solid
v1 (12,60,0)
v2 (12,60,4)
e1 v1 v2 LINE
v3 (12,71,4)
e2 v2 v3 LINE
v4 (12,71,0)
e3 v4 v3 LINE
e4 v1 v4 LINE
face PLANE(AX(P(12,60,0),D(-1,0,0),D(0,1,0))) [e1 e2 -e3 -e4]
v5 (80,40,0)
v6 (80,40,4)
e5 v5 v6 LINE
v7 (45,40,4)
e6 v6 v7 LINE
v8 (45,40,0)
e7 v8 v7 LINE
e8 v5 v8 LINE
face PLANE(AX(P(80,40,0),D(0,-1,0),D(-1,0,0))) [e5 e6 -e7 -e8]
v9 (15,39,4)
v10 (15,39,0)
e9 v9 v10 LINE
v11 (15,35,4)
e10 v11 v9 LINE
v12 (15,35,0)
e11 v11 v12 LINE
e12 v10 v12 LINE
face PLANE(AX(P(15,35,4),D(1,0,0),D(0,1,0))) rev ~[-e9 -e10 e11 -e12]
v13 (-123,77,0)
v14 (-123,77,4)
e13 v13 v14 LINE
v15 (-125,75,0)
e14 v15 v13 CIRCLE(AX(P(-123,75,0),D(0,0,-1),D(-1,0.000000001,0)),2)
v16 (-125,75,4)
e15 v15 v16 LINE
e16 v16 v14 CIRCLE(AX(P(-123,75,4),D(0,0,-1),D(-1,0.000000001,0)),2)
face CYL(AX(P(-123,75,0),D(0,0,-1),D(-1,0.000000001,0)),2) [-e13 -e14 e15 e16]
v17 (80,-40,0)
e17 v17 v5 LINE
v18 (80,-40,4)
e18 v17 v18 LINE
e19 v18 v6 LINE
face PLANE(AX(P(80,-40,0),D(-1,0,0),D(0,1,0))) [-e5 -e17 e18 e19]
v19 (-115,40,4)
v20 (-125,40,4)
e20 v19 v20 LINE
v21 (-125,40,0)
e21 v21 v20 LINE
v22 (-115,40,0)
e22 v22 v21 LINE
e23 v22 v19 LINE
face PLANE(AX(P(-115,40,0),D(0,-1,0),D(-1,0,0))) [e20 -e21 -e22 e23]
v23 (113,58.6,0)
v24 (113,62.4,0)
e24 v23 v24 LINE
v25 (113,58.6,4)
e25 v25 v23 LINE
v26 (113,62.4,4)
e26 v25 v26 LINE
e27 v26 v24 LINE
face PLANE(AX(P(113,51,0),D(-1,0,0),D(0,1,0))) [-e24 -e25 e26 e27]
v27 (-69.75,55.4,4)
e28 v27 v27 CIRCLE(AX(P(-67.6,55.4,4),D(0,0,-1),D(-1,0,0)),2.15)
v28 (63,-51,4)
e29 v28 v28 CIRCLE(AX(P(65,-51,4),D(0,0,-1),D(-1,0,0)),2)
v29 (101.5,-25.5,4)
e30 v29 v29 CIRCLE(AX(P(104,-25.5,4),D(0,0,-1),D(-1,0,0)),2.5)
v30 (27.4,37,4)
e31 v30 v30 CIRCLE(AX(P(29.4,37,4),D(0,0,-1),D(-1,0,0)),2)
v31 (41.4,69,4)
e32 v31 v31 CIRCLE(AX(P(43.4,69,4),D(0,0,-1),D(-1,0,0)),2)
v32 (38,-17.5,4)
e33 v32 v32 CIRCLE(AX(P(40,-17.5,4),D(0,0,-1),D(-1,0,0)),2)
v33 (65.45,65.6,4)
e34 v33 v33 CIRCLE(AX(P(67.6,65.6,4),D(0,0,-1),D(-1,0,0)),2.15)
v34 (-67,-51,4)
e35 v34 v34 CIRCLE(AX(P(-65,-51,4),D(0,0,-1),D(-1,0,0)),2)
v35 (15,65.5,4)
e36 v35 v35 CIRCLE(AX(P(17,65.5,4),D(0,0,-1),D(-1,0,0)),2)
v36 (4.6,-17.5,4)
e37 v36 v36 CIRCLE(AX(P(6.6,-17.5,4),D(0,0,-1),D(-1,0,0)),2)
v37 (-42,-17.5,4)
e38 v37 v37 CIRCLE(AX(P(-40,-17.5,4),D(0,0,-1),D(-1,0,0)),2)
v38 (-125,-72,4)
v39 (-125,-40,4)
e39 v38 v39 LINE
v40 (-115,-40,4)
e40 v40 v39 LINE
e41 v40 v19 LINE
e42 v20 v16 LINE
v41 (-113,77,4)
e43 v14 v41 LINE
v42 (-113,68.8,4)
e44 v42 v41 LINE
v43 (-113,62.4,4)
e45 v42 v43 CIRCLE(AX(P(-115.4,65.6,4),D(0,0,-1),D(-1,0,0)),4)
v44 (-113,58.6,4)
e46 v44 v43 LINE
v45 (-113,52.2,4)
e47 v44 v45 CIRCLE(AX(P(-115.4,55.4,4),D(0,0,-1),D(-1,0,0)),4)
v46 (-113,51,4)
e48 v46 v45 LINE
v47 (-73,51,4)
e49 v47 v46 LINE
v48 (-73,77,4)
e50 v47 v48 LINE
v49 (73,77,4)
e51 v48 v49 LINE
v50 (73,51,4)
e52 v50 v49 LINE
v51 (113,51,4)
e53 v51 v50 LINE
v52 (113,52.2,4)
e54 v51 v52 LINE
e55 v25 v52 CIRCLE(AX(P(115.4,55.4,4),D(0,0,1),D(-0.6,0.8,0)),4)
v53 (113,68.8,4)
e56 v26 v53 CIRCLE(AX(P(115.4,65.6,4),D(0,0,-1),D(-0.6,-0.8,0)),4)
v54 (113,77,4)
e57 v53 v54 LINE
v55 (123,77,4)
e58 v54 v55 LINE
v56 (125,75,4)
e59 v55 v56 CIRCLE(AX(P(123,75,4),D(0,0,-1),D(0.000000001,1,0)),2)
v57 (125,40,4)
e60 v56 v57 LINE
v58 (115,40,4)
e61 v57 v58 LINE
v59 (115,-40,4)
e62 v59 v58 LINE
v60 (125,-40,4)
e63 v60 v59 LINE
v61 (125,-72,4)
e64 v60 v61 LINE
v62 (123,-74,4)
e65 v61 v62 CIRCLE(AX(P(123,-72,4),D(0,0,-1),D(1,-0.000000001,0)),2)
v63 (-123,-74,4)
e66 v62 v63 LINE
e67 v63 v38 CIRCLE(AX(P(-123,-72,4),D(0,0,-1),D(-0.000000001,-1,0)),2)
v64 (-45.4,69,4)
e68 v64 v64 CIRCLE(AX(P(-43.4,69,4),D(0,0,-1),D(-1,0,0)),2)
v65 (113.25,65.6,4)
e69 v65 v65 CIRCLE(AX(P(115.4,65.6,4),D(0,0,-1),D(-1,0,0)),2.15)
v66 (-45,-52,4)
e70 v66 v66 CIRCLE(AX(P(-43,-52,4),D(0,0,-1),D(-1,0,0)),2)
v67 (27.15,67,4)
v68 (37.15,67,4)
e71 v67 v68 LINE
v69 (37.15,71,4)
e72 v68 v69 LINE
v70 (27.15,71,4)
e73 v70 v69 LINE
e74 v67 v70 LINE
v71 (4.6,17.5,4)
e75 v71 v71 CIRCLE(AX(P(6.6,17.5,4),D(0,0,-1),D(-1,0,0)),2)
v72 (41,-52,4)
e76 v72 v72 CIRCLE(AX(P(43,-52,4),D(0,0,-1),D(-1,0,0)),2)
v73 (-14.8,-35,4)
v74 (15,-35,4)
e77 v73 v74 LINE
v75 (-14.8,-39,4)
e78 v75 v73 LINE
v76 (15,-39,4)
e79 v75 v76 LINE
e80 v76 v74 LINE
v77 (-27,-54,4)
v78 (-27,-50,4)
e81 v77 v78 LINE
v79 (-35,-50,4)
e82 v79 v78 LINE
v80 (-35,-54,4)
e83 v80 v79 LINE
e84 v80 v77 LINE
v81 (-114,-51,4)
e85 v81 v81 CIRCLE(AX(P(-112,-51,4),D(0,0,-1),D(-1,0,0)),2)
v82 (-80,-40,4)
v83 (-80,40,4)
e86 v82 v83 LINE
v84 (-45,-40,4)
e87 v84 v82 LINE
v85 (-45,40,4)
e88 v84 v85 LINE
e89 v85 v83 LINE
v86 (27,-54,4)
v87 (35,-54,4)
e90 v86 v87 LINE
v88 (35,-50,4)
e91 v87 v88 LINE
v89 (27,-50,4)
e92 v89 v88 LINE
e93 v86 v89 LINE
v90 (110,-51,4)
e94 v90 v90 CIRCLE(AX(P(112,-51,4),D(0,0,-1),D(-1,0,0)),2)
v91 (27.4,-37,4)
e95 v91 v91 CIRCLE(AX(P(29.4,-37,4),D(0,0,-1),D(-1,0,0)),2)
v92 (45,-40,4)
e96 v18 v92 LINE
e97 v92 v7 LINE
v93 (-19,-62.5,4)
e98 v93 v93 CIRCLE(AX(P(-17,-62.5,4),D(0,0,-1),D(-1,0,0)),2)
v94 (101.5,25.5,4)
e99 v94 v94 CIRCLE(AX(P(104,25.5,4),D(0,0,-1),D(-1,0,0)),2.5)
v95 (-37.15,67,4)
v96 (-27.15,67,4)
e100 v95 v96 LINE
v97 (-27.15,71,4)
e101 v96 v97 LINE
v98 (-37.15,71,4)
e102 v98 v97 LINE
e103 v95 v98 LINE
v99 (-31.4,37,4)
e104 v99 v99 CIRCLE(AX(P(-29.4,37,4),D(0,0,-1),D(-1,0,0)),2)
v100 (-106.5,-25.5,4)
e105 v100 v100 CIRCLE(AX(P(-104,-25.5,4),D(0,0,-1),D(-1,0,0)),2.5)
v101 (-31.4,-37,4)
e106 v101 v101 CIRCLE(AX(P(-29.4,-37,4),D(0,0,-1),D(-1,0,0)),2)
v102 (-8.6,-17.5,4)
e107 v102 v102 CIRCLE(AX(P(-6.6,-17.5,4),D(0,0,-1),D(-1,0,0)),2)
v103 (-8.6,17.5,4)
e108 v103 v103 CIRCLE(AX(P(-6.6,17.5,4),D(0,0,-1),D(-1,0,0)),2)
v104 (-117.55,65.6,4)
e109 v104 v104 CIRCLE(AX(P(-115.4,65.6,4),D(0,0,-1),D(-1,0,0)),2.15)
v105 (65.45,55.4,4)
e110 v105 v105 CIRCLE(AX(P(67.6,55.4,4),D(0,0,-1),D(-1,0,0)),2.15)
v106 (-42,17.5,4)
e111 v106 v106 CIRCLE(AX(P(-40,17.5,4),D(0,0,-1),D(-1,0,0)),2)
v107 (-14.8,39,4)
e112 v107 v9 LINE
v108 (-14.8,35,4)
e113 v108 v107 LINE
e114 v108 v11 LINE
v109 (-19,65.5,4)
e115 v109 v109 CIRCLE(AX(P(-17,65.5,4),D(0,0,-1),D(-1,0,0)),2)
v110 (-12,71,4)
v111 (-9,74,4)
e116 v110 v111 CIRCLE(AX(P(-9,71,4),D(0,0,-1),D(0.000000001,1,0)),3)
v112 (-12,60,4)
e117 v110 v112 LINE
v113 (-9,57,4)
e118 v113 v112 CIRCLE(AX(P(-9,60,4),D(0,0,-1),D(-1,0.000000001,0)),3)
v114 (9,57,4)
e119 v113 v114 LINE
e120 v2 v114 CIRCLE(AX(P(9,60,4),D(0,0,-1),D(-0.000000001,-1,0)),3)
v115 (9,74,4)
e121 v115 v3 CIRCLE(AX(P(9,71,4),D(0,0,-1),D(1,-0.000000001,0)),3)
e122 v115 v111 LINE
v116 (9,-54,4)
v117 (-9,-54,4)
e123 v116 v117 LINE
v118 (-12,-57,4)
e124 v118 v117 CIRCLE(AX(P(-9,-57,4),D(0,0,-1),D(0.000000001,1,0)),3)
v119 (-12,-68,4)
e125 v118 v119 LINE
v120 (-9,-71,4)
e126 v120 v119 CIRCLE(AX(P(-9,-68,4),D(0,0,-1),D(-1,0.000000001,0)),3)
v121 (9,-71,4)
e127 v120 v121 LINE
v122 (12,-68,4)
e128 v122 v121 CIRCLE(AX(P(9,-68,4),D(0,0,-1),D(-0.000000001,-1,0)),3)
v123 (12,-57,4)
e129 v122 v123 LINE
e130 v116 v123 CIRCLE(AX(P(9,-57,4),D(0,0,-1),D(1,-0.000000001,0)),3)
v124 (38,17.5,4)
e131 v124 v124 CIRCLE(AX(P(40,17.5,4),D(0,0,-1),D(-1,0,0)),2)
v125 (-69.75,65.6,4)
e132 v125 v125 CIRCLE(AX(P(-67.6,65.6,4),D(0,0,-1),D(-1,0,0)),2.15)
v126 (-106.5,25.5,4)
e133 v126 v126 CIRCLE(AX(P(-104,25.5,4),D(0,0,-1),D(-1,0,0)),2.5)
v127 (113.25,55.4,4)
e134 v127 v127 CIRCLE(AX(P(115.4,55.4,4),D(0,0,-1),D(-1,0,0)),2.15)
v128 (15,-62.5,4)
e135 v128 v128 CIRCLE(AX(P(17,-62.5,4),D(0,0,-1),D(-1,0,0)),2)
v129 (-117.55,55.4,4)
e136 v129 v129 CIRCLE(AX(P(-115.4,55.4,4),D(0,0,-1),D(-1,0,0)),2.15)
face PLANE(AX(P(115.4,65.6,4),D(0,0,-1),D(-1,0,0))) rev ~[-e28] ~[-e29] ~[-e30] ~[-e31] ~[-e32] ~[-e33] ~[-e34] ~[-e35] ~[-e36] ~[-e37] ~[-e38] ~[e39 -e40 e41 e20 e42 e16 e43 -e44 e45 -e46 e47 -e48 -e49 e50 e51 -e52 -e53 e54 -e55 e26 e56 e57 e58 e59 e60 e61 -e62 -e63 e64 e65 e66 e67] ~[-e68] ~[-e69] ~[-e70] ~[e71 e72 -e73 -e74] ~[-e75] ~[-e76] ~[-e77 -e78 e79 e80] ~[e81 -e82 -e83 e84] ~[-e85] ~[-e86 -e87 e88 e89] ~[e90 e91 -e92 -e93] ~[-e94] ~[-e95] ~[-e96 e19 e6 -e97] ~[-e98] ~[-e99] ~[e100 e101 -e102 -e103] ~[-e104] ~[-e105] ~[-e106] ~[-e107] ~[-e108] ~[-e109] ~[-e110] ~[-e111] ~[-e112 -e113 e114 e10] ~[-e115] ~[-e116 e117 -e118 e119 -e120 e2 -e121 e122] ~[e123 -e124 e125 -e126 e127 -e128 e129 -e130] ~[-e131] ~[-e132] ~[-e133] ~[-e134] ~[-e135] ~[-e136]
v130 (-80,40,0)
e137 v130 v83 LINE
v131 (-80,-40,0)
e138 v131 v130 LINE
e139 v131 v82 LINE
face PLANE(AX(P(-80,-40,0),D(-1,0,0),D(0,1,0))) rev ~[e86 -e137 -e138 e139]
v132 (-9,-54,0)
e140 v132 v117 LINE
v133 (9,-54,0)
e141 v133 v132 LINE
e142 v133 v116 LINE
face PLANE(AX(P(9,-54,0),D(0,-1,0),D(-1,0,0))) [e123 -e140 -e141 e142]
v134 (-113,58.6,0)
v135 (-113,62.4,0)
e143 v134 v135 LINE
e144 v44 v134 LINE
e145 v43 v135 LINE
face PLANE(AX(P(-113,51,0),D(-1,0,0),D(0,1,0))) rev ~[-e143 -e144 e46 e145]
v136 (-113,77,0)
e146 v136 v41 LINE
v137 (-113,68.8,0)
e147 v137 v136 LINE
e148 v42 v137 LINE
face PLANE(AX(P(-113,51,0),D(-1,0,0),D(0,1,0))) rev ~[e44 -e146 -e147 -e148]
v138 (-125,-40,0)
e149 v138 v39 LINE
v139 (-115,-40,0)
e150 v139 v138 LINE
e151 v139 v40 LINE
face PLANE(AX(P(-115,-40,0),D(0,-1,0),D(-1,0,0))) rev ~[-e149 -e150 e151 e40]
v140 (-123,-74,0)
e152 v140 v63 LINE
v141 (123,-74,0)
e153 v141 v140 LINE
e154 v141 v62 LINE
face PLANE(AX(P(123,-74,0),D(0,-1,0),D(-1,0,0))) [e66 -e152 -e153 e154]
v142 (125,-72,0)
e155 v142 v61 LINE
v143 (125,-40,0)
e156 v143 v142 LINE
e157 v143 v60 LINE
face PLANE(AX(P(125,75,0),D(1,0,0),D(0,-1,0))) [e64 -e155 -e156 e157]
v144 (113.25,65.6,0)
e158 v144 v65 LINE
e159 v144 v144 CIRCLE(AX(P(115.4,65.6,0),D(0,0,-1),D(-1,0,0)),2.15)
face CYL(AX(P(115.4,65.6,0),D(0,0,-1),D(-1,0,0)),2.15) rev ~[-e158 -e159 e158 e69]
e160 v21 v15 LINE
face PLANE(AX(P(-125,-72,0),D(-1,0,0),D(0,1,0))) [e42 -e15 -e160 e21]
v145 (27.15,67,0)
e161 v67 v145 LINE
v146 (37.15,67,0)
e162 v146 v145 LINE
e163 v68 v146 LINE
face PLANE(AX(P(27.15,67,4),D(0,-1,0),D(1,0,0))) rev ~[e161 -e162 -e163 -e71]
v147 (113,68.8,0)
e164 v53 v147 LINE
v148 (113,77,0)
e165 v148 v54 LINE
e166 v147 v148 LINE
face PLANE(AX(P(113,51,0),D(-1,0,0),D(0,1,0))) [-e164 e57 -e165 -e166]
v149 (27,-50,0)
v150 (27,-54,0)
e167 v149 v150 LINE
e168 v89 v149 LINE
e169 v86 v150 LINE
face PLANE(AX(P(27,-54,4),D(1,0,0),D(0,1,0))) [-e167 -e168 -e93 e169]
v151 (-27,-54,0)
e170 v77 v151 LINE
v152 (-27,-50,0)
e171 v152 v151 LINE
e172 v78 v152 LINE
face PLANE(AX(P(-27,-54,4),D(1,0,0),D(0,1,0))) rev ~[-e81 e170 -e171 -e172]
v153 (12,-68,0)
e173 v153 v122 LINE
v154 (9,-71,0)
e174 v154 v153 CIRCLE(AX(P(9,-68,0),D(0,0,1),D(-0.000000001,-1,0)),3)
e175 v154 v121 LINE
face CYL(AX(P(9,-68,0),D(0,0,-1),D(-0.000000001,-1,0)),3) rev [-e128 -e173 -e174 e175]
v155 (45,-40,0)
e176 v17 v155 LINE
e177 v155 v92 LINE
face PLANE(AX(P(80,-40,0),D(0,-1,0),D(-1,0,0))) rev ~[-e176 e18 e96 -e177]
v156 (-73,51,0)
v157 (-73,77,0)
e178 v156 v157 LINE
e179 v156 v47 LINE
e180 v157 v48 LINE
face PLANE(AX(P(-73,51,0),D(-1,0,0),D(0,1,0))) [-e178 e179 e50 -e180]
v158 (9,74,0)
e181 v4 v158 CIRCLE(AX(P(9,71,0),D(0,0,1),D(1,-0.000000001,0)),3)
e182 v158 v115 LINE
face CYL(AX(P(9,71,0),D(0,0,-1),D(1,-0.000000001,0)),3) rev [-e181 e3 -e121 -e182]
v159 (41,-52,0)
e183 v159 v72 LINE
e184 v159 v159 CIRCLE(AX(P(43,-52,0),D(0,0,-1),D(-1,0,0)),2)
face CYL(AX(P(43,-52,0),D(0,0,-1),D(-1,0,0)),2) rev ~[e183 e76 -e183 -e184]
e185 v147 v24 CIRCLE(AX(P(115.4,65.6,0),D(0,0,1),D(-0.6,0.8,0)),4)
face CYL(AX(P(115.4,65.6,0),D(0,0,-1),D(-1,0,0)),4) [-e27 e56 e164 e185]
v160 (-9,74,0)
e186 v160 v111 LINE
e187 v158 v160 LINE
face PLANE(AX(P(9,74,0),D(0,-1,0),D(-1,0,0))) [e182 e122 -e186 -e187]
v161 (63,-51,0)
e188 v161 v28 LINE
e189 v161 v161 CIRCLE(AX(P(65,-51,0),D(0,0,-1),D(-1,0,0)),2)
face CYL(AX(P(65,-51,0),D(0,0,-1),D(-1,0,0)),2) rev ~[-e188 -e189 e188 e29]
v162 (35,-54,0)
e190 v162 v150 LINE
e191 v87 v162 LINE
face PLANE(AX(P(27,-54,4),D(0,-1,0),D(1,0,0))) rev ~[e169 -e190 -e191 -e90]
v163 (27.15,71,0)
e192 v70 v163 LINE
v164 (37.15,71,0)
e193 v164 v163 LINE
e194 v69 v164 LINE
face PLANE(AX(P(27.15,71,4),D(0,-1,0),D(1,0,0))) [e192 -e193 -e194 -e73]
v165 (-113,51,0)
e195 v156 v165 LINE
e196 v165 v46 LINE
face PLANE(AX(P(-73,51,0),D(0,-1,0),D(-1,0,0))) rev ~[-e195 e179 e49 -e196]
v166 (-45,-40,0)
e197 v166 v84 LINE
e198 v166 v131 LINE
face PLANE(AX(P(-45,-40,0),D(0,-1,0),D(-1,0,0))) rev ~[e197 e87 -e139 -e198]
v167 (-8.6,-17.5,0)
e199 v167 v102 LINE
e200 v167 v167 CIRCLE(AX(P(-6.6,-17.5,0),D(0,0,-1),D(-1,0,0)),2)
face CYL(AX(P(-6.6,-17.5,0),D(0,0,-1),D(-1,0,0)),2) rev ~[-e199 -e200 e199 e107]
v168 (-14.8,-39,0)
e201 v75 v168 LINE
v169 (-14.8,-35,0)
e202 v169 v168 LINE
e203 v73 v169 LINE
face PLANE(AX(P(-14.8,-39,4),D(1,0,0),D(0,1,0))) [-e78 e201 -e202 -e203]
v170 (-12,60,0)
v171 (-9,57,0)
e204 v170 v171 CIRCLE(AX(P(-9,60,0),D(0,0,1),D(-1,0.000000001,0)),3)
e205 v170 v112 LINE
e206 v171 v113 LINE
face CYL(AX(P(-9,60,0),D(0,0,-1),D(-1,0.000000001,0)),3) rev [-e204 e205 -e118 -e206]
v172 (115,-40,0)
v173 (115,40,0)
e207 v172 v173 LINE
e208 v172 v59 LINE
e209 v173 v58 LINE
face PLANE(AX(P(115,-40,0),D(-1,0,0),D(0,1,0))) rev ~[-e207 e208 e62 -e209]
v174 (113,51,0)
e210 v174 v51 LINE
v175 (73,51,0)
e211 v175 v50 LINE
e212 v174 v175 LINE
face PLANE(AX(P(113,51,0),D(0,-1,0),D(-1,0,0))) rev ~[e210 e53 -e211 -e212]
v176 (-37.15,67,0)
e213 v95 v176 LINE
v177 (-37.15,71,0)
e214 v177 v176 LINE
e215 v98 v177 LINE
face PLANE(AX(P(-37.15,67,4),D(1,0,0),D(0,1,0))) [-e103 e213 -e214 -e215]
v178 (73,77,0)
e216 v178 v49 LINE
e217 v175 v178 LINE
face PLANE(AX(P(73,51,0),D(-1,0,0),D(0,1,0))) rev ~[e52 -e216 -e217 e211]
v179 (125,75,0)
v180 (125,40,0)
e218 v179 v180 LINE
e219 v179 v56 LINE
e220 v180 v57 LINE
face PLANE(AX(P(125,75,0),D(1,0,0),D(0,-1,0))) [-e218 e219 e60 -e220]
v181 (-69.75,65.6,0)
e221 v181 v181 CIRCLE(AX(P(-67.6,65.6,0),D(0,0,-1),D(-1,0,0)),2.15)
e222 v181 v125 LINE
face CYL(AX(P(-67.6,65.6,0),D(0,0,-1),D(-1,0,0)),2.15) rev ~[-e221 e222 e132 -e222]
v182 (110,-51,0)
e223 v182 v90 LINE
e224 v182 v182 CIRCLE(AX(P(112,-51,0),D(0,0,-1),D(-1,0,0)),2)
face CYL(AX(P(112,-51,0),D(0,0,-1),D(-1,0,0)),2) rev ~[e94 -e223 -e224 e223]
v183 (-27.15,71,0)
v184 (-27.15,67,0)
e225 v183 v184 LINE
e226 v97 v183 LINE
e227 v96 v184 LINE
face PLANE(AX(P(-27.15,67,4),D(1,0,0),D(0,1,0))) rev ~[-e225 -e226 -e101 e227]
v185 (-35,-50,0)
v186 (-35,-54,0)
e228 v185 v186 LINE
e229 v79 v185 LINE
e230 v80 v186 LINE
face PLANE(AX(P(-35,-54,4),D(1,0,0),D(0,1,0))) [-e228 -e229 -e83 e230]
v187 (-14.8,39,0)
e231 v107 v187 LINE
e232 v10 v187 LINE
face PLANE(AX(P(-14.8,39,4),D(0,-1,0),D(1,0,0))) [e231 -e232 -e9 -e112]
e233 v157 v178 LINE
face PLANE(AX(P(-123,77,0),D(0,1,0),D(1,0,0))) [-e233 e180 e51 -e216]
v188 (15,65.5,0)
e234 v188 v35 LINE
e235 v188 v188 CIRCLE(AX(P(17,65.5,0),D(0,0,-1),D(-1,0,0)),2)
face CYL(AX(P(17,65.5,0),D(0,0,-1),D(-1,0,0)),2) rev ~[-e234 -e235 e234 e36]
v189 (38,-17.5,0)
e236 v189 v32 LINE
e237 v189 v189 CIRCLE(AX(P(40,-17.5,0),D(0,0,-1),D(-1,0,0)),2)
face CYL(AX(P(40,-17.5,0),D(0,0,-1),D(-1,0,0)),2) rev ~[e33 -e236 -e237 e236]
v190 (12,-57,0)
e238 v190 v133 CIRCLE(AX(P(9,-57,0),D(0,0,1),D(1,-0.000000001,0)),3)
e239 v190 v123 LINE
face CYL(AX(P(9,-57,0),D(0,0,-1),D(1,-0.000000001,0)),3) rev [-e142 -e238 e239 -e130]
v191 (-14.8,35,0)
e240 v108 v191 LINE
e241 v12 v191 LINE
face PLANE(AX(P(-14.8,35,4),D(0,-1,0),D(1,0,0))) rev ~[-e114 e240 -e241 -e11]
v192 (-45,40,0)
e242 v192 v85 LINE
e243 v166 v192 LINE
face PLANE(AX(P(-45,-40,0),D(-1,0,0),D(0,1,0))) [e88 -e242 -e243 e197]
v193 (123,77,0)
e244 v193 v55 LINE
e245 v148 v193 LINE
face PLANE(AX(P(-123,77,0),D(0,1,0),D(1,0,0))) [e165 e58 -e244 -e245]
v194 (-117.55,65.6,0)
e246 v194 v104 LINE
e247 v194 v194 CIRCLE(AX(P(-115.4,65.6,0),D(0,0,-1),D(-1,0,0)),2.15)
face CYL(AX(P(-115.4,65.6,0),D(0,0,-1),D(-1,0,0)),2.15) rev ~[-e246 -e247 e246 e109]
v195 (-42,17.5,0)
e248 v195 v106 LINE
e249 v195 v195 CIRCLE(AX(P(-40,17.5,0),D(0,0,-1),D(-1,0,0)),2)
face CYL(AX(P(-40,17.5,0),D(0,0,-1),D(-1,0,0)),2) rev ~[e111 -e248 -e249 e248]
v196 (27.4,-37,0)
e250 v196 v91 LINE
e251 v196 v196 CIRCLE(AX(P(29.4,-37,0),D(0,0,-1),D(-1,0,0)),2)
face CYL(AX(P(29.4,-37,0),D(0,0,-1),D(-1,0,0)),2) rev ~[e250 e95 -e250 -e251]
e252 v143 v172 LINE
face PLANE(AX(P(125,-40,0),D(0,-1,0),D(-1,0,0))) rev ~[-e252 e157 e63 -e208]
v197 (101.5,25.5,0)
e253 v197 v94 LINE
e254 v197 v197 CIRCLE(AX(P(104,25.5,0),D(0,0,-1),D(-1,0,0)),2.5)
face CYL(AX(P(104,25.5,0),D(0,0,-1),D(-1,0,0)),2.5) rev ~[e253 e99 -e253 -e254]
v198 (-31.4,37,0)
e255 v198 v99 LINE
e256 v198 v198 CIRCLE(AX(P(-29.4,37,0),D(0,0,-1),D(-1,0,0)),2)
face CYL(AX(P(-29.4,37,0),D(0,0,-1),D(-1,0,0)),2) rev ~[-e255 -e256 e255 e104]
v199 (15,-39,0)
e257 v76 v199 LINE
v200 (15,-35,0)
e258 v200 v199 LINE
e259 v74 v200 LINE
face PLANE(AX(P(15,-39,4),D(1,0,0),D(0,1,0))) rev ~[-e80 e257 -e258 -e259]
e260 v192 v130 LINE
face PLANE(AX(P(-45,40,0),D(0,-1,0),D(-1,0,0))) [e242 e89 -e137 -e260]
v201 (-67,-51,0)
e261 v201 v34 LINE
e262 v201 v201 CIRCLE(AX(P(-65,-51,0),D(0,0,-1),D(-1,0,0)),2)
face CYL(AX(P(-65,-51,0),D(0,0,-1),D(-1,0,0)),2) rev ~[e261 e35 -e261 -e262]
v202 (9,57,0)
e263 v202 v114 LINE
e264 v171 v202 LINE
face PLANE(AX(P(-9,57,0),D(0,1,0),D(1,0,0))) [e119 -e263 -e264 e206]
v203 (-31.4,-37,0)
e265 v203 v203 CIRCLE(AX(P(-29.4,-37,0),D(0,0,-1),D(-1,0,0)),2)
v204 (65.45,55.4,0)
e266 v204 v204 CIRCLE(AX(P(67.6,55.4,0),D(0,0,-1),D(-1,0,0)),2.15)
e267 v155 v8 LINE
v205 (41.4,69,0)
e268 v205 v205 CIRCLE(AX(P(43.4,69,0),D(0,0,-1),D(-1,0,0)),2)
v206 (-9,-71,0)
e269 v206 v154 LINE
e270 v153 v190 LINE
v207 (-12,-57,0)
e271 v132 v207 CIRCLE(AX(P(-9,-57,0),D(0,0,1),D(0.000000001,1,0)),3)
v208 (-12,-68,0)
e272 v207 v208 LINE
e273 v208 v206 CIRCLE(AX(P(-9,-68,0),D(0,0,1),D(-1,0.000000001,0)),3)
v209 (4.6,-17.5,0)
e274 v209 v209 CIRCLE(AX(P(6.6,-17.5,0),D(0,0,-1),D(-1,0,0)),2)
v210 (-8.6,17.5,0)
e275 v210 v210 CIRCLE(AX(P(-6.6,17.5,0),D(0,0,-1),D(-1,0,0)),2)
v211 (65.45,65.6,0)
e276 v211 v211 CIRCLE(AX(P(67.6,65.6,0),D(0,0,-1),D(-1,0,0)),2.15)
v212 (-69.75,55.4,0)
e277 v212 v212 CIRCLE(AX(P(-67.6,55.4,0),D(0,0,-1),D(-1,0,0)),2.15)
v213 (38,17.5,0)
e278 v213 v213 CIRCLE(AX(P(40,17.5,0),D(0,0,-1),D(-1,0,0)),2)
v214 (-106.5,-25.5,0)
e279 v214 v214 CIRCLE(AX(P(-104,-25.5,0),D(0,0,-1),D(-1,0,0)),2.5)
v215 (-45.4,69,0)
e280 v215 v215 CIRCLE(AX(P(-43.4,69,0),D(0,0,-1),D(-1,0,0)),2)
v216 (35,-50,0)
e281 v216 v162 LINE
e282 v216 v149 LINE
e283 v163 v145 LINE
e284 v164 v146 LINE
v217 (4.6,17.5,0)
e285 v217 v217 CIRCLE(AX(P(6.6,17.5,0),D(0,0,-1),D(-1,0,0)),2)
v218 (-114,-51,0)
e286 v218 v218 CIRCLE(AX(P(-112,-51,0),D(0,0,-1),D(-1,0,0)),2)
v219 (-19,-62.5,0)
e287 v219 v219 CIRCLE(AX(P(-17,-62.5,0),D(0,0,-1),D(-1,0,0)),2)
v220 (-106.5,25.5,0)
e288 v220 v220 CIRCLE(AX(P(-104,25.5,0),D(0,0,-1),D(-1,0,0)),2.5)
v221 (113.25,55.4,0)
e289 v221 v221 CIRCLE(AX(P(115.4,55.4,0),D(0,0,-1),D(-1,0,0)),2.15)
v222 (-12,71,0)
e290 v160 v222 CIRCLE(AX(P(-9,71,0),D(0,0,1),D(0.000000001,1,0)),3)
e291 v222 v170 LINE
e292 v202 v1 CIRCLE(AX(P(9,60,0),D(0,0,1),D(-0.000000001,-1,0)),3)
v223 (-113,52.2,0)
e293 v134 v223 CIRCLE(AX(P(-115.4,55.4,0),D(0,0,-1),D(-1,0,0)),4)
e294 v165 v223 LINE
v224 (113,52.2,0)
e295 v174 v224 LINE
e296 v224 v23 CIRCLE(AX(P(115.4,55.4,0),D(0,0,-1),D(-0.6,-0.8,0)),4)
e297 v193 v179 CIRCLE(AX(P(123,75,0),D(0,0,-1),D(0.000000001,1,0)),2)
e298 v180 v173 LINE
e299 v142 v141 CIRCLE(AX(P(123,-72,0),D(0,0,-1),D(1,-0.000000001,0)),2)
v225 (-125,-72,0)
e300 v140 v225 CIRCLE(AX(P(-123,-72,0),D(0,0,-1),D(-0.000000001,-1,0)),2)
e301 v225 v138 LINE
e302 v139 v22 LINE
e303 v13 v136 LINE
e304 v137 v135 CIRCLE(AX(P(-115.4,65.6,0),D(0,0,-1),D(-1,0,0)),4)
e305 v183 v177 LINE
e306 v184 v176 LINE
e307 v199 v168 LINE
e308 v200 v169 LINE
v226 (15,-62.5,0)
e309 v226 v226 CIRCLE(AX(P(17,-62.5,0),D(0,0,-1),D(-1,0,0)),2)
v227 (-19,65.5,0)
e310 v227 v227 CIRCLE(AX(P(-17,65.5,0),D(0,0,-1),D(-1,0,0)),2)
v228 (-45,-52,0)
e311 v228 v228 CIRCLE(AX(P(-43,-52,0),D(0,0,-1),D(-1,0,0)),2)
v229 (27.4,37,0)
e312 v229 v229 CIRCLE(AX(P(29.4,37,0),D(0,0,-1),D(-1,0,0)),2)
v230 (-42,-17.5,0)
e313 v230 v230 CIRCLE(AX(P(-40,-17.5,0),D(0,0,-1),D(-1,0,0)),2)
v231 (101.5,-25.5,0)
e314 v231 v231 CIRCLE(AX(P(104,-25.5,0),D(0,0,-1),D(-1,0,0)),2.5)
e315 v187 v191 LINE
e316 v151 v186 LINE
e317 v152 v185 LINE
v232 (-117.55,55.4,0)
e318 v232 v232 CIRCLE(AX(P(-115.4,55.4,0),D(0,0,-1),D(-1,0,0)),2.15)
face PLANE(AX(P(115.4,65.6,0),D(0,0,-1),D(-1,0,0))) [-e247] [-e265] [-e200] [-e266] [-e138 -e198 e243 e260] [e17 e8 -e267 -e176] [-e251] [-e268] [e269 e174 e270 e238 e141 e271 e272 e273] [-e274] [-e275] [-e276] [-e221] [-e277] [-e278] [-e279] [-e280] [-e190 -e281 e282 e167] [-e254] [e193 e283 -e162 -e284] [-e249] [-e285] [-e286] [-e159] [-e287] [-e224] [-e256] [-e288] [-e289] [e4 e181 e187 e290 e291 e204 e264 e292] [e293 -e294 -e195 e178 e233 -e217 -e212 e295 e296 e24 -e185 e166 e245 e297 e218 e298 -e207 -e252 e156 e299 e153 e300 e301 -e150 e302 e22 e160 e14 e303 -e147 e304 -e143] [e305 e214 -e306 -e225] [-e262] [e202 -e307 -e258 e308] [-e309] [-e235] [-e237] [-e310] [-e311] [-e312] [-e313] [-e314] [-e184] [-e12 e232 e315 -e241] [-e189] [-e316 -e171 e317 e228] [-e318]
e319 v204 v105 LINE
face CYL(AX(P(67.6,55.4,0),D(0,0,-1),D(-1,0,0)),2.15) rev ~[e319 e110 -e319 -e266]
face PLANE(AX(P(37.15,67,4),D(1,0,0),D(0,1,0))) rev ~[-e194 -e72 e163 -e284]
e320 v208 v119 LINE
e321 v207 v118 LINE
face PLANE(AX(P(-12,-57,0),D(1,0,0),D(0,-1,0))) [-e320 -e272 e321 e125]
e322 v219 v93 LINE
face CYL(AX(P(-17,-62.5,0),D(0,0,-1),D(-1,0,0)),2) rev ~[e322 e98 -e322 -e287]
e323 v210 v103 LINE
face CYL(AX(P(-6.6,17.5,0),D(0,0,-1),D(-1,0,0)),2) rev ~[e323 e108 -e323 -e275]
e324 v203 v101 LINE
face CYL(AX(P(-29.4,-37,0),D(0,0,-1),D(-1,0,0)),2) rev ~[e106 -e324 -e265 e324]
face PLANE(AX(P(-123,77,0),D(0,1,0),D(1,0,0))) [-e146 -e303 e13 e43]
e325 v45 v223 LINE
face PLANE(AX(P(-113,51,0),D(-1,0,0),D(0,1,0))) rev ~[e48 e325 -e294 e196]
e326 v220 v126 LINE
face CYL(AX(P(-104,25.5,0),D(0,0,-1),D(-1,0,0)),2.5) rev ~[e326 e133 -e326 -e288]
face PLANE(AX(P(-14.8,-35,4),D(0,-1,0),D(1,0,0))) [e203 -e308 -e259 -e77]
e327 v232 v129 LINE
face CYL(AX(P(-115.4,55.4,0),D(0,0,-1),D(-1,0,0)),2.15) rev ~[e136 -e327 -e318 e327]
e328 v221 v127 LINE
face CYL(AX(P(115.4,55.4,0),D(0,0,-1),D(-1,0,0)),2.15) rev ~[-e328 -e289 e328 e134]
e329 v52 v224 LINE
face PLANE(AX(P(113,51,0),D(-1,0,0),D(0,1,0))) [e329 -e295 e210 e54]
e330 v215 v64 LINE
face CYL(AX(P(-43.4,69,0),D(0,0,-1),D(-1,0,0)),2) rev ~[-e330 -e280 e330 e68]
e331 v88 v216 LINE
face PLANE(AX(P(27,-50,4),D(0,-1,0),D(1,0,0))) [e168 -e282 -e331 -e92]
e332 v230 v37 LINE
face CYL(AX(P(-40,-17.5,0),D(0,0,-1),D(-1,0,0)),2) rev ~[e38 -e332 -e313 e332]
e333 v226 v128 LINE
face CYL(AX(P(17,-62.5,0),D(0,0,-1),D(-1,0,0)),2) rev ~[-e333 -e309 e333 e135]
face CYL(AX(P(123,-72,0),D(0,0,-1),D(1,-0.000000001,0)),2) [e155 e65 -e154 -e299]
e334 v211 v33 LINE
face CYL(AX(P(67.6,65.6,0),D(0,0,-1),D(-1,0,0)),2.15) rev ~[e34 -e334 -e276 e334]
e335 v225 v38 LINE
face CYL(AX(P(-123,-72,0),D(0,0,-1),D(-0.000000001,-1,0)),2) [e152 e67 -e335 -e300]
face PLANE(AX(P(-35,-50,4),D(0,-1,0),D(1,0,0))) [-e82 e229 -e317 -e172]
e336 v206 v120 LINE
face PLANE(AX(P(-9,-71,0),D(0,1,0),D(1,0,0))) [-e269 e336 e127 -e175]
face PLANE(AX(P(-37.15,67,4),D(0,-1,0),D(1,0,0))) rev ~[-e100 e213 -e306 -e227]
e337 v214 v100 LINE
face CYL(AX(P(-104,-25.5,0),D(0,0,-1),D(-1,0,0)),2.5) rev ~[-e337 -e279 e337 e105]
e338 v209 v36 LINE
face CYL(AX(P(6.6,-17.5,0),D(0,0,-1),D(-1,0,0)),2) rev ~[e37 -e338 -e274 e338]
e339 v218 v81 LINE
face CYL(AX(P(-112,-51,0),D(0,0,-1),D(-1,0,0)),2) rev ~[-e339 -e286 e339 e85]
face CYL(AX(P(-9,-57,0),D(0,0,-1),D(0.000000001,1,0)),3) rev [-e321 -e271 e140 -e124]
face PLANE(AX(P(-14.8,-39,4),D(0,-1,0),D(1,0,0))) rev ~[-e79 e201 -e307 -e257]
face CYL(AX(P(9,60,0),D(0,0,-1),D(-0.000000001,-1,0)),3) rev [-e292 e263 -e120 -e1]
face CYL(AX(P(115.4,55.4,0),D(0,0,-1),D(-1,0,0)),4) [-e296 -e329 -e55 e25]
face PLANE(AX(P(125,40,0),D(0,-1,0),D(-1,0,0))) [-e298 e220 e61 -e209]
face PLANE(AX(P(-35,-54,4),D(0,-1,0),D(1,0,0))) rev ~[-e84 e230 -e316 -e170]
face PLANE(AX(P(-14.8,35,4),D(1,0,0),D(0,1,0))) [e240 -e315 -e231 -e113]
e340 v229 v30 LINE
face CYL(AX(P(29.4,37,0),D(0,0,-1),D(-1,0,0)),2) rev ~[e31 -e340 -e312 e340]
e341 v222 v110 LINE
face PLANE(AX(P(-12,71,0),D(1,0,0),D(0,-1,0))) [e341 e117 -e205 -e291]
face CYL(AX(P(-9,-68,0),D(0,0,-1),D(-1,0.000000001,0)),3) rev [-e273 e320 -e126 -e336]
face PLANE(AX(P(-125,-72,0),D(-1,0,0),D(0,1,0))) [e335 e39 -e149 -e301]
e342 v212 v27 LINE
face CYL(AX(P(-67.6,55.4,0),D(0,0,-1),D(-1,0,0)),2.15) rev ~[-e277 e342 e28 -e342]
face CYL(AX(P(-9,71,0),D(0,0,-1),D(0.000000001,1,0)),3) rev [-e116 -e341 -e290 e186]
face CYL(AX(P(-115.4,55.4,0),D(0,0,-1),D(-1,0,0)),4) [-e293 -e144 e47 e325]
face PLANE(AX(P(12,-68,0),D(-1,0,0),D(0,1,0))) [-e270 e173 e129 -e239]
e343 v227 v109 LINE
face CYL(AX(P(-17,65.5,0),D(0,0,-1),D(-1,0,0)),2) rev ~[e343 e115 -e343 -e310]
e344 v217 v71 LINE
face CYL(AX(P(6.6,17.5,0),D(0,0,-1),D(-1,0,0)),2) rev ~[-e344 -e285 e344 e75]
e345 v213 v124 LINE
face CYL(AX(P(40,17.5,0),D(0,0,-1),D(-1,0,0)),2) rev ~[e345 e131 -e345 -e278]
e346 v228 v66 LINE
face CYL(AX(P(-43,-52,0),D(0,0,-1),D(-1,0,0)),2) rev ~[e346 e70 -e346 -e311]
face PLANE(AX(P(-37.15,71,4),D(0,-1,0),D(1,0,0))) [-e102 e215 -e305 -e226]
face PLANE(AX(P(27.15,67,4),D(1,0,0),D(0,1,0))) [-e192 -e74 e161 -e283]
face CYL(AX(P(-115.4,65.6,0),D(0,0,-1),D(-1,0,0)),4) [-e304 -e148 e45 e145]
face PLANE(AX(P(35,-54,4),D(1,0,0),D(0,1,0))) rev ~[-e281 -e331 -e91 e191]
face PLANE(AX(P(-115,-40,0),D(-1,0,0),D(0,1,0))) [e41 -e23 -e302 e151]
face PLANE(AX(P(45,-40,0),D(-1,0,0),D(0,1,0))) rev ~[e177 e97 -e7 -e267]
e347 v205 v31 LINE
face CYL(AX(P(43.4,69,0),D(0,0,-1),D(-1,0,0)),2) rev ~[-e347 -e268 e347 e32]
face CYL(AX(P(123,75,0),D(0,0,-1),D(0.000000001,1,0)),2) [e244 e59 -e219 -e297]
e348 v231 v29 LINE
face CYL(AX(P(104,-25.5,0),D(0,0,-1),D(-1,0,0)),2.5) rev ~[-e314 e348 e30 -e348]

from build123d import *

# Parameters (mm, degrees)
BOSS_EXTRUDE1_DEPTH = 4
SKETCH2_R           = 2
SKETCH2_W           = 10
SKETCH2_H           = 80
SKETCH2_W_2         = 35
SKETCH2_H_2         = 80.000000001
CUT_EXTRUDE1_DEPTH  = 10
SKETCH6_R           = 2.5
CUT_EXTRUDE5_DEPTH  = 10
SKETCH11_R          = 2
CUT_EXTRUDE9_DEPTH  = 10
SKETCH16_W          = 40
SKETCH16_H          = 26
CUT_EXTRUDE10_DEPTH = 10
SKETCH17_R          = 2.15
CUT_EXTRUDE11_DEPTH = 10
SKETCH26_R          = 2
CUT_EXTRUDE18_DEPTH = 10
SKETCH28_R          = 4
SKETCH28_R_2        = 2.15
BOSS_EXTRUDE2_DEPTH = 4
SKETCH29_W          = 8
SKETCH29_H          = 4
SKETCH29_W_2        = 29.8
SKETCH29_W_3        = 10
CUT_EXTRUDE19_DEPTH = 10
SKETCH30_R          = 2
CUT_EXTRUDE20_DEPTH = 10


with BuildPart() as part:
    # Sketch1 → Boss-Extrude1 (new body)
    with BuildSketch(Plane.XY):
        with BuildLine():
            Line((-123, 77), (123, 77))
            ThreePointArc((123, 77), (124.414213562, 76.414213562), (125, 75))
            Line((125, 75), (125, -72))
            ThreePointArc((125, -72), (124.414213562, -73.414213562), (123, -74))
            Line((123, -74), (-123, -74))
            ThreePointArc((-123, -74), (-124.414213562, -73.414213562), (-125, -72))
            Line((-125, -72), (-125, 75))
            ThreePointArc((-125, 75), (-124.414213562, 76.414213562), (-123, 77))
        make_face()
    extrude(amount=BOSS_EXTRUDE1_DEPTH)

    # Sketch2 → Cut-Extrude1 (cut)
    with BuildSketch(Plane(origin=(0, 0, 0), x_dir=(-1, 0, 0), z_dir=(0, 0, -1))):
        with Locations((-6.6, -17.5)):
            Circle(SKETCH2_R)
        with Locations((-6.6, 17.5)):
            Circle(SKETCH2_R)
        with Locations((-40, -17.5)):
            Circle(SKETCH2_R)
        with Locations((-40, 17.5)):
            Circle(SKETCH2_R)
        with Locations((6.6, 17.5)):
            Circle(SKETCH2_R)
        with Locations((6.6, -17.5)):
            Circle(SKETCH2_R)
        with Locations((40, -17.5)):
            Circle(SKETCH2_R)
        with Locations((40, 17.5)):
            Circle(SKETCH2_R)
        with Locations((-120, 0)):
            Rectangle(SKETCH2_W, SKETCH2_H)
        with Locations((-62.5, -1e-09)):
            Rectangle(SKETCH2_W_2, SKETCH2_H_2)
        with Locations((120, 0)):
            Rectangle(SKETCH2_W, SKETCH2_H)
        with Locations((62.5, -1e-09)):
            Rectangle(SKETCH2_W_2, SKETCH2_H_2)
    extrude(amount=-CUT_EXTRUDE1_DEPTH, mode=Mode.SUBTRACT)

    # Sketch6 → Cut-Extrude5 (cut)
    with BuildSketch(Plane(origin=(0, 0, 0), x_dir=(-1, 0, 0), z_dir=(0, 0, -1))):
        with Locations((-104, -25.5)):
            Circle(SKETCH6_R)
        with Locations((-104, 25.5)):
            Circle(SKETCH6_R)
        with Locations((104, -25.5)):
            Circle(SKETCH6_R)
        with Locations((104, 25.5)):
            Circle(SKETCH6_R)
    extrude(amount=-CUT_EXTRUDE5_DEPTH, mode=Mode.SUBTRACT)

    # Sketch11 → Cut-Extrude9 (cut)
    with BuildSketch(Plane(origin=(0, 0, 0), x_dir=(-1, 0, 0), z_dir=(0, 0, -1))):
        with Locations((-17, -62.5)):
            Circle(SKETCH11_R)
        with Locations((17, -62.5)):
            Circle(SKETCH11_R)
        with Locations((-17, 65.5)):
            Circle(SKETCH11_R)
        with Locations((17, 65.5)):
            Circle(SKETCH11_R)
        with BuildLine():
            Line((-9, -54), (9, -54))
            ThreePointArc((9, -54), (11.121320344, -54.878679656), (12, -57))
            Line((12, -57), (12, -68))
            ThreePointArc((12, -68), (11.121320344, -70.121320344), (9, -71))
            Line((9, -71), (-9, -71))
            ThreePointArc((-9, -71), (-11.121320344, -70.121320344), (-12, -68))
            Line((-12, -68), (-12, -57))
            ThreePointArc((-12, -57), (-11.121320344, -54.878679656), (-9, -54))
        make_face()
        with BuildLine():
            Line((-9, 74), (9, 74))
            ThreePointArc((9, 74), (11.121320344, 73.121320344), (12, 71))
            Line((12, 71), (12, 60))
            ThreePointArc((12, 60), (11.121320344, 57.878679656), (9, 57))
            Line((9, 57), (-9, 57))
            ThreePointArc((-9, 57), (-11.121320344, 57.878679656), (-12, 60))
            Line((-12, 60), (-12, 71))
            ThreePointArc((-12, 71), (-11.121320344, 73.121320344), (-9, 74))
        make_face()
    extrude(amount=-CUT_EXTRUDE9_DEPTH, mode=Mode.SUBTRACT)

    # Sketch16 → Cut-Extrude10 (cut)
    with BuildSketch(Plane(origin=(0, 0, 0), x_dir=(-1, 0, 0), z_dir=(0, 0, -1))):
        with Locations((-93, 64)):
            Rectangle(SKETCH16_W, SKETCH16_H)
        with Locations((93, 64)):
            Rectangle(SKETCH16_W, SKETCH16_H)
    extrude(amount=-CUT_EXTRUDE10_DEPTH, mode=Mode.SUBTRACT)

    # Sketch17 → Cut-Extrude11 (cut)
    with BuildSketch(Plane(origin=(0, 0, 0), x_dir=(-1, 0, 0), z_dir=(0, 0, -1))):
        with Locations((67.6, 65.6)):
            Circle(SKETCH17_R)
        with Locations((67.6, 55.4)):
            Circle(SKETCH17_R)
        with Locations((115.4, 55.4)):
            Circle(SKETCH17_R)
        with Locations((115.4, 65.6)):
            Circle(SKETCH17_R)
        with Locations((-115.4, 65.6)):
            Circle(SKETCH17_R)
        with Locations((-115.4, 55.4)):
            Circle(SKETCH17_R)
        with Locations((-67.6, 55.4)):
            Circle(SKETCH17_R)
        with Locations((-67.6, 65.6)):
            Circle(SKETCH17_R)
    extrude(amount=-CUT_EXTRUDE11_DEPTH, mode=Mode.SUBTRACT)

    # Sketch26 → Cut-Extrude18 (cut)
    with BuildSketch(Plane(origin=(0, 0, 0), x_dir=(-1, 0, 0), z_dir=(0, 0, -1))):
        with Locations((-112, -51)):
            Circle(SKETCH26_R)
        with Locations((-65, -51)):
            Circle(SKETCH26_R)
        with Locations((65, -51)):
            Circle(SKETCH26_R)
        with Locations((112, -51)):
            Circle(SKETCH26_R)
    extrude(amount=-CUT_EXTRUDE18_DEPTH, mode=Mode.SUBTRACT)

    # Sketch28 → Boss-Extrude2 (add)
    # profile 1 of 4: a face of its own
    with BuildSketch(Plane(origin=(0, 0, 0), x_dir=(-1, 0, 0), z_dir=(0, 0, -1))):
        with Locations((-115.4, 65.6)):
            Circle(SKETCH28_R)
        with Locations((-115.4, 65.6)):
            Circle(SKETCH28_R_2, mode=Mode.SUBTRACT)
    # profile 2 of 4: a face of its own
    with BuildSketch(Plane(origin=(0, 0, 0), x_dir=(-1, 0, 0), z_dir=(0, 0, -1))):
        with Locations((-115.4, 55.4)):
            Circle(SKETCH28_R)
        with Locations((-115.4, 55.4)):
            Circle(SKETCH28_R_2, mode=Mode.SUBTRACT)
    # profile 3 of 4: a face of its own
    with BuildSketch(Plane(origin=(0, 0, 0), x_dir=(-1, 0, 0), z_dir=(0, 0, -1))):
        with Locations((115.4, 55.4)):
            Circle(SKETCH28_R)
        with Locations((115.4, 55.4)):
            Circle(SKETCH28_R_2, mode=Mode.SUBTRACT)
    # profile 4 of 4: a face of its own
    with BuildSketch(Plane(origin=(0, 0, 0), x_dir=(-1, 0, 0), z_dir=(0, 0, -1))):
        with Locations((115.4, 65.6)):
            Circle(SKETCH28_R)
        with Locations((115.4, 65.6)):
            Circle(SKETCH28_R_2, mode=Mode.SUBTRACT)
    extrude(amount=-BOSS_EXTRUDE2_DEPTH)

    # Sketch29 → Cut-Extrude19 (cut)
    with BuildSketch(Plane.XY.offset(4)):
        with Locations((-31, -52)):
            Rectangle(SKETCH29_W, SKETCH29_H)
        with Locations((31, -52)):
            Rectangle(SKETCH29_W, SKETCH29_H)
        with Locations((0.1, -37)):
            Rectangle(SKETCH29_W_2, SKETCH29_H)
        with Locations((0.1, 37)):
            Rectangle(SKETCH29_W_2, SKETCH29_H)
        with Locations((32.15, 69)):
            Rectangle(SKETCH29_W_3, SKETCH29_H)
        with Locations((-32.15, 69)):
            Rectangle(SKETCH29_W_3, SKETCH29_H)
    extrude(amount=-CUT_EXTRUDE19_DEPTH, mode=Mode.SUBTRACT)

    # Sketch30 → Cut-Extrude20 (cut)
    with BuildSketch(Plane(origin=(0, 0, 0), x_dir=(-1, 0, 0), z_dir=(0, 0, -1))):
        with Locations((43.4, 69)):
            Circle(SKETCH30_R)
        with Locations((-43.4, 69)):
            Circle(SKETCH30_R)
        with Locations((-29.39999999, 37)):
            Circle(SKETCH30_R)
        with Locations((29.39999999, 37)):
            Circle(SKETCH30_R)
        with Locations((29.39999999, -37)):
            Circle(SKETCH30_R)
        with Locations((-29.39999999, -37)):
            Circle(SKETCH30_R)
        with Locations((-43, -52)):
            Circle(SKETCH30_R)
        with Locations((43, -52)):
            Circle(SKETCH30_R)
    extrude(amount=-CUT_EXTRUDE20_DEPTH, mode=Mode.SUBTRACT)


solid = part.part
